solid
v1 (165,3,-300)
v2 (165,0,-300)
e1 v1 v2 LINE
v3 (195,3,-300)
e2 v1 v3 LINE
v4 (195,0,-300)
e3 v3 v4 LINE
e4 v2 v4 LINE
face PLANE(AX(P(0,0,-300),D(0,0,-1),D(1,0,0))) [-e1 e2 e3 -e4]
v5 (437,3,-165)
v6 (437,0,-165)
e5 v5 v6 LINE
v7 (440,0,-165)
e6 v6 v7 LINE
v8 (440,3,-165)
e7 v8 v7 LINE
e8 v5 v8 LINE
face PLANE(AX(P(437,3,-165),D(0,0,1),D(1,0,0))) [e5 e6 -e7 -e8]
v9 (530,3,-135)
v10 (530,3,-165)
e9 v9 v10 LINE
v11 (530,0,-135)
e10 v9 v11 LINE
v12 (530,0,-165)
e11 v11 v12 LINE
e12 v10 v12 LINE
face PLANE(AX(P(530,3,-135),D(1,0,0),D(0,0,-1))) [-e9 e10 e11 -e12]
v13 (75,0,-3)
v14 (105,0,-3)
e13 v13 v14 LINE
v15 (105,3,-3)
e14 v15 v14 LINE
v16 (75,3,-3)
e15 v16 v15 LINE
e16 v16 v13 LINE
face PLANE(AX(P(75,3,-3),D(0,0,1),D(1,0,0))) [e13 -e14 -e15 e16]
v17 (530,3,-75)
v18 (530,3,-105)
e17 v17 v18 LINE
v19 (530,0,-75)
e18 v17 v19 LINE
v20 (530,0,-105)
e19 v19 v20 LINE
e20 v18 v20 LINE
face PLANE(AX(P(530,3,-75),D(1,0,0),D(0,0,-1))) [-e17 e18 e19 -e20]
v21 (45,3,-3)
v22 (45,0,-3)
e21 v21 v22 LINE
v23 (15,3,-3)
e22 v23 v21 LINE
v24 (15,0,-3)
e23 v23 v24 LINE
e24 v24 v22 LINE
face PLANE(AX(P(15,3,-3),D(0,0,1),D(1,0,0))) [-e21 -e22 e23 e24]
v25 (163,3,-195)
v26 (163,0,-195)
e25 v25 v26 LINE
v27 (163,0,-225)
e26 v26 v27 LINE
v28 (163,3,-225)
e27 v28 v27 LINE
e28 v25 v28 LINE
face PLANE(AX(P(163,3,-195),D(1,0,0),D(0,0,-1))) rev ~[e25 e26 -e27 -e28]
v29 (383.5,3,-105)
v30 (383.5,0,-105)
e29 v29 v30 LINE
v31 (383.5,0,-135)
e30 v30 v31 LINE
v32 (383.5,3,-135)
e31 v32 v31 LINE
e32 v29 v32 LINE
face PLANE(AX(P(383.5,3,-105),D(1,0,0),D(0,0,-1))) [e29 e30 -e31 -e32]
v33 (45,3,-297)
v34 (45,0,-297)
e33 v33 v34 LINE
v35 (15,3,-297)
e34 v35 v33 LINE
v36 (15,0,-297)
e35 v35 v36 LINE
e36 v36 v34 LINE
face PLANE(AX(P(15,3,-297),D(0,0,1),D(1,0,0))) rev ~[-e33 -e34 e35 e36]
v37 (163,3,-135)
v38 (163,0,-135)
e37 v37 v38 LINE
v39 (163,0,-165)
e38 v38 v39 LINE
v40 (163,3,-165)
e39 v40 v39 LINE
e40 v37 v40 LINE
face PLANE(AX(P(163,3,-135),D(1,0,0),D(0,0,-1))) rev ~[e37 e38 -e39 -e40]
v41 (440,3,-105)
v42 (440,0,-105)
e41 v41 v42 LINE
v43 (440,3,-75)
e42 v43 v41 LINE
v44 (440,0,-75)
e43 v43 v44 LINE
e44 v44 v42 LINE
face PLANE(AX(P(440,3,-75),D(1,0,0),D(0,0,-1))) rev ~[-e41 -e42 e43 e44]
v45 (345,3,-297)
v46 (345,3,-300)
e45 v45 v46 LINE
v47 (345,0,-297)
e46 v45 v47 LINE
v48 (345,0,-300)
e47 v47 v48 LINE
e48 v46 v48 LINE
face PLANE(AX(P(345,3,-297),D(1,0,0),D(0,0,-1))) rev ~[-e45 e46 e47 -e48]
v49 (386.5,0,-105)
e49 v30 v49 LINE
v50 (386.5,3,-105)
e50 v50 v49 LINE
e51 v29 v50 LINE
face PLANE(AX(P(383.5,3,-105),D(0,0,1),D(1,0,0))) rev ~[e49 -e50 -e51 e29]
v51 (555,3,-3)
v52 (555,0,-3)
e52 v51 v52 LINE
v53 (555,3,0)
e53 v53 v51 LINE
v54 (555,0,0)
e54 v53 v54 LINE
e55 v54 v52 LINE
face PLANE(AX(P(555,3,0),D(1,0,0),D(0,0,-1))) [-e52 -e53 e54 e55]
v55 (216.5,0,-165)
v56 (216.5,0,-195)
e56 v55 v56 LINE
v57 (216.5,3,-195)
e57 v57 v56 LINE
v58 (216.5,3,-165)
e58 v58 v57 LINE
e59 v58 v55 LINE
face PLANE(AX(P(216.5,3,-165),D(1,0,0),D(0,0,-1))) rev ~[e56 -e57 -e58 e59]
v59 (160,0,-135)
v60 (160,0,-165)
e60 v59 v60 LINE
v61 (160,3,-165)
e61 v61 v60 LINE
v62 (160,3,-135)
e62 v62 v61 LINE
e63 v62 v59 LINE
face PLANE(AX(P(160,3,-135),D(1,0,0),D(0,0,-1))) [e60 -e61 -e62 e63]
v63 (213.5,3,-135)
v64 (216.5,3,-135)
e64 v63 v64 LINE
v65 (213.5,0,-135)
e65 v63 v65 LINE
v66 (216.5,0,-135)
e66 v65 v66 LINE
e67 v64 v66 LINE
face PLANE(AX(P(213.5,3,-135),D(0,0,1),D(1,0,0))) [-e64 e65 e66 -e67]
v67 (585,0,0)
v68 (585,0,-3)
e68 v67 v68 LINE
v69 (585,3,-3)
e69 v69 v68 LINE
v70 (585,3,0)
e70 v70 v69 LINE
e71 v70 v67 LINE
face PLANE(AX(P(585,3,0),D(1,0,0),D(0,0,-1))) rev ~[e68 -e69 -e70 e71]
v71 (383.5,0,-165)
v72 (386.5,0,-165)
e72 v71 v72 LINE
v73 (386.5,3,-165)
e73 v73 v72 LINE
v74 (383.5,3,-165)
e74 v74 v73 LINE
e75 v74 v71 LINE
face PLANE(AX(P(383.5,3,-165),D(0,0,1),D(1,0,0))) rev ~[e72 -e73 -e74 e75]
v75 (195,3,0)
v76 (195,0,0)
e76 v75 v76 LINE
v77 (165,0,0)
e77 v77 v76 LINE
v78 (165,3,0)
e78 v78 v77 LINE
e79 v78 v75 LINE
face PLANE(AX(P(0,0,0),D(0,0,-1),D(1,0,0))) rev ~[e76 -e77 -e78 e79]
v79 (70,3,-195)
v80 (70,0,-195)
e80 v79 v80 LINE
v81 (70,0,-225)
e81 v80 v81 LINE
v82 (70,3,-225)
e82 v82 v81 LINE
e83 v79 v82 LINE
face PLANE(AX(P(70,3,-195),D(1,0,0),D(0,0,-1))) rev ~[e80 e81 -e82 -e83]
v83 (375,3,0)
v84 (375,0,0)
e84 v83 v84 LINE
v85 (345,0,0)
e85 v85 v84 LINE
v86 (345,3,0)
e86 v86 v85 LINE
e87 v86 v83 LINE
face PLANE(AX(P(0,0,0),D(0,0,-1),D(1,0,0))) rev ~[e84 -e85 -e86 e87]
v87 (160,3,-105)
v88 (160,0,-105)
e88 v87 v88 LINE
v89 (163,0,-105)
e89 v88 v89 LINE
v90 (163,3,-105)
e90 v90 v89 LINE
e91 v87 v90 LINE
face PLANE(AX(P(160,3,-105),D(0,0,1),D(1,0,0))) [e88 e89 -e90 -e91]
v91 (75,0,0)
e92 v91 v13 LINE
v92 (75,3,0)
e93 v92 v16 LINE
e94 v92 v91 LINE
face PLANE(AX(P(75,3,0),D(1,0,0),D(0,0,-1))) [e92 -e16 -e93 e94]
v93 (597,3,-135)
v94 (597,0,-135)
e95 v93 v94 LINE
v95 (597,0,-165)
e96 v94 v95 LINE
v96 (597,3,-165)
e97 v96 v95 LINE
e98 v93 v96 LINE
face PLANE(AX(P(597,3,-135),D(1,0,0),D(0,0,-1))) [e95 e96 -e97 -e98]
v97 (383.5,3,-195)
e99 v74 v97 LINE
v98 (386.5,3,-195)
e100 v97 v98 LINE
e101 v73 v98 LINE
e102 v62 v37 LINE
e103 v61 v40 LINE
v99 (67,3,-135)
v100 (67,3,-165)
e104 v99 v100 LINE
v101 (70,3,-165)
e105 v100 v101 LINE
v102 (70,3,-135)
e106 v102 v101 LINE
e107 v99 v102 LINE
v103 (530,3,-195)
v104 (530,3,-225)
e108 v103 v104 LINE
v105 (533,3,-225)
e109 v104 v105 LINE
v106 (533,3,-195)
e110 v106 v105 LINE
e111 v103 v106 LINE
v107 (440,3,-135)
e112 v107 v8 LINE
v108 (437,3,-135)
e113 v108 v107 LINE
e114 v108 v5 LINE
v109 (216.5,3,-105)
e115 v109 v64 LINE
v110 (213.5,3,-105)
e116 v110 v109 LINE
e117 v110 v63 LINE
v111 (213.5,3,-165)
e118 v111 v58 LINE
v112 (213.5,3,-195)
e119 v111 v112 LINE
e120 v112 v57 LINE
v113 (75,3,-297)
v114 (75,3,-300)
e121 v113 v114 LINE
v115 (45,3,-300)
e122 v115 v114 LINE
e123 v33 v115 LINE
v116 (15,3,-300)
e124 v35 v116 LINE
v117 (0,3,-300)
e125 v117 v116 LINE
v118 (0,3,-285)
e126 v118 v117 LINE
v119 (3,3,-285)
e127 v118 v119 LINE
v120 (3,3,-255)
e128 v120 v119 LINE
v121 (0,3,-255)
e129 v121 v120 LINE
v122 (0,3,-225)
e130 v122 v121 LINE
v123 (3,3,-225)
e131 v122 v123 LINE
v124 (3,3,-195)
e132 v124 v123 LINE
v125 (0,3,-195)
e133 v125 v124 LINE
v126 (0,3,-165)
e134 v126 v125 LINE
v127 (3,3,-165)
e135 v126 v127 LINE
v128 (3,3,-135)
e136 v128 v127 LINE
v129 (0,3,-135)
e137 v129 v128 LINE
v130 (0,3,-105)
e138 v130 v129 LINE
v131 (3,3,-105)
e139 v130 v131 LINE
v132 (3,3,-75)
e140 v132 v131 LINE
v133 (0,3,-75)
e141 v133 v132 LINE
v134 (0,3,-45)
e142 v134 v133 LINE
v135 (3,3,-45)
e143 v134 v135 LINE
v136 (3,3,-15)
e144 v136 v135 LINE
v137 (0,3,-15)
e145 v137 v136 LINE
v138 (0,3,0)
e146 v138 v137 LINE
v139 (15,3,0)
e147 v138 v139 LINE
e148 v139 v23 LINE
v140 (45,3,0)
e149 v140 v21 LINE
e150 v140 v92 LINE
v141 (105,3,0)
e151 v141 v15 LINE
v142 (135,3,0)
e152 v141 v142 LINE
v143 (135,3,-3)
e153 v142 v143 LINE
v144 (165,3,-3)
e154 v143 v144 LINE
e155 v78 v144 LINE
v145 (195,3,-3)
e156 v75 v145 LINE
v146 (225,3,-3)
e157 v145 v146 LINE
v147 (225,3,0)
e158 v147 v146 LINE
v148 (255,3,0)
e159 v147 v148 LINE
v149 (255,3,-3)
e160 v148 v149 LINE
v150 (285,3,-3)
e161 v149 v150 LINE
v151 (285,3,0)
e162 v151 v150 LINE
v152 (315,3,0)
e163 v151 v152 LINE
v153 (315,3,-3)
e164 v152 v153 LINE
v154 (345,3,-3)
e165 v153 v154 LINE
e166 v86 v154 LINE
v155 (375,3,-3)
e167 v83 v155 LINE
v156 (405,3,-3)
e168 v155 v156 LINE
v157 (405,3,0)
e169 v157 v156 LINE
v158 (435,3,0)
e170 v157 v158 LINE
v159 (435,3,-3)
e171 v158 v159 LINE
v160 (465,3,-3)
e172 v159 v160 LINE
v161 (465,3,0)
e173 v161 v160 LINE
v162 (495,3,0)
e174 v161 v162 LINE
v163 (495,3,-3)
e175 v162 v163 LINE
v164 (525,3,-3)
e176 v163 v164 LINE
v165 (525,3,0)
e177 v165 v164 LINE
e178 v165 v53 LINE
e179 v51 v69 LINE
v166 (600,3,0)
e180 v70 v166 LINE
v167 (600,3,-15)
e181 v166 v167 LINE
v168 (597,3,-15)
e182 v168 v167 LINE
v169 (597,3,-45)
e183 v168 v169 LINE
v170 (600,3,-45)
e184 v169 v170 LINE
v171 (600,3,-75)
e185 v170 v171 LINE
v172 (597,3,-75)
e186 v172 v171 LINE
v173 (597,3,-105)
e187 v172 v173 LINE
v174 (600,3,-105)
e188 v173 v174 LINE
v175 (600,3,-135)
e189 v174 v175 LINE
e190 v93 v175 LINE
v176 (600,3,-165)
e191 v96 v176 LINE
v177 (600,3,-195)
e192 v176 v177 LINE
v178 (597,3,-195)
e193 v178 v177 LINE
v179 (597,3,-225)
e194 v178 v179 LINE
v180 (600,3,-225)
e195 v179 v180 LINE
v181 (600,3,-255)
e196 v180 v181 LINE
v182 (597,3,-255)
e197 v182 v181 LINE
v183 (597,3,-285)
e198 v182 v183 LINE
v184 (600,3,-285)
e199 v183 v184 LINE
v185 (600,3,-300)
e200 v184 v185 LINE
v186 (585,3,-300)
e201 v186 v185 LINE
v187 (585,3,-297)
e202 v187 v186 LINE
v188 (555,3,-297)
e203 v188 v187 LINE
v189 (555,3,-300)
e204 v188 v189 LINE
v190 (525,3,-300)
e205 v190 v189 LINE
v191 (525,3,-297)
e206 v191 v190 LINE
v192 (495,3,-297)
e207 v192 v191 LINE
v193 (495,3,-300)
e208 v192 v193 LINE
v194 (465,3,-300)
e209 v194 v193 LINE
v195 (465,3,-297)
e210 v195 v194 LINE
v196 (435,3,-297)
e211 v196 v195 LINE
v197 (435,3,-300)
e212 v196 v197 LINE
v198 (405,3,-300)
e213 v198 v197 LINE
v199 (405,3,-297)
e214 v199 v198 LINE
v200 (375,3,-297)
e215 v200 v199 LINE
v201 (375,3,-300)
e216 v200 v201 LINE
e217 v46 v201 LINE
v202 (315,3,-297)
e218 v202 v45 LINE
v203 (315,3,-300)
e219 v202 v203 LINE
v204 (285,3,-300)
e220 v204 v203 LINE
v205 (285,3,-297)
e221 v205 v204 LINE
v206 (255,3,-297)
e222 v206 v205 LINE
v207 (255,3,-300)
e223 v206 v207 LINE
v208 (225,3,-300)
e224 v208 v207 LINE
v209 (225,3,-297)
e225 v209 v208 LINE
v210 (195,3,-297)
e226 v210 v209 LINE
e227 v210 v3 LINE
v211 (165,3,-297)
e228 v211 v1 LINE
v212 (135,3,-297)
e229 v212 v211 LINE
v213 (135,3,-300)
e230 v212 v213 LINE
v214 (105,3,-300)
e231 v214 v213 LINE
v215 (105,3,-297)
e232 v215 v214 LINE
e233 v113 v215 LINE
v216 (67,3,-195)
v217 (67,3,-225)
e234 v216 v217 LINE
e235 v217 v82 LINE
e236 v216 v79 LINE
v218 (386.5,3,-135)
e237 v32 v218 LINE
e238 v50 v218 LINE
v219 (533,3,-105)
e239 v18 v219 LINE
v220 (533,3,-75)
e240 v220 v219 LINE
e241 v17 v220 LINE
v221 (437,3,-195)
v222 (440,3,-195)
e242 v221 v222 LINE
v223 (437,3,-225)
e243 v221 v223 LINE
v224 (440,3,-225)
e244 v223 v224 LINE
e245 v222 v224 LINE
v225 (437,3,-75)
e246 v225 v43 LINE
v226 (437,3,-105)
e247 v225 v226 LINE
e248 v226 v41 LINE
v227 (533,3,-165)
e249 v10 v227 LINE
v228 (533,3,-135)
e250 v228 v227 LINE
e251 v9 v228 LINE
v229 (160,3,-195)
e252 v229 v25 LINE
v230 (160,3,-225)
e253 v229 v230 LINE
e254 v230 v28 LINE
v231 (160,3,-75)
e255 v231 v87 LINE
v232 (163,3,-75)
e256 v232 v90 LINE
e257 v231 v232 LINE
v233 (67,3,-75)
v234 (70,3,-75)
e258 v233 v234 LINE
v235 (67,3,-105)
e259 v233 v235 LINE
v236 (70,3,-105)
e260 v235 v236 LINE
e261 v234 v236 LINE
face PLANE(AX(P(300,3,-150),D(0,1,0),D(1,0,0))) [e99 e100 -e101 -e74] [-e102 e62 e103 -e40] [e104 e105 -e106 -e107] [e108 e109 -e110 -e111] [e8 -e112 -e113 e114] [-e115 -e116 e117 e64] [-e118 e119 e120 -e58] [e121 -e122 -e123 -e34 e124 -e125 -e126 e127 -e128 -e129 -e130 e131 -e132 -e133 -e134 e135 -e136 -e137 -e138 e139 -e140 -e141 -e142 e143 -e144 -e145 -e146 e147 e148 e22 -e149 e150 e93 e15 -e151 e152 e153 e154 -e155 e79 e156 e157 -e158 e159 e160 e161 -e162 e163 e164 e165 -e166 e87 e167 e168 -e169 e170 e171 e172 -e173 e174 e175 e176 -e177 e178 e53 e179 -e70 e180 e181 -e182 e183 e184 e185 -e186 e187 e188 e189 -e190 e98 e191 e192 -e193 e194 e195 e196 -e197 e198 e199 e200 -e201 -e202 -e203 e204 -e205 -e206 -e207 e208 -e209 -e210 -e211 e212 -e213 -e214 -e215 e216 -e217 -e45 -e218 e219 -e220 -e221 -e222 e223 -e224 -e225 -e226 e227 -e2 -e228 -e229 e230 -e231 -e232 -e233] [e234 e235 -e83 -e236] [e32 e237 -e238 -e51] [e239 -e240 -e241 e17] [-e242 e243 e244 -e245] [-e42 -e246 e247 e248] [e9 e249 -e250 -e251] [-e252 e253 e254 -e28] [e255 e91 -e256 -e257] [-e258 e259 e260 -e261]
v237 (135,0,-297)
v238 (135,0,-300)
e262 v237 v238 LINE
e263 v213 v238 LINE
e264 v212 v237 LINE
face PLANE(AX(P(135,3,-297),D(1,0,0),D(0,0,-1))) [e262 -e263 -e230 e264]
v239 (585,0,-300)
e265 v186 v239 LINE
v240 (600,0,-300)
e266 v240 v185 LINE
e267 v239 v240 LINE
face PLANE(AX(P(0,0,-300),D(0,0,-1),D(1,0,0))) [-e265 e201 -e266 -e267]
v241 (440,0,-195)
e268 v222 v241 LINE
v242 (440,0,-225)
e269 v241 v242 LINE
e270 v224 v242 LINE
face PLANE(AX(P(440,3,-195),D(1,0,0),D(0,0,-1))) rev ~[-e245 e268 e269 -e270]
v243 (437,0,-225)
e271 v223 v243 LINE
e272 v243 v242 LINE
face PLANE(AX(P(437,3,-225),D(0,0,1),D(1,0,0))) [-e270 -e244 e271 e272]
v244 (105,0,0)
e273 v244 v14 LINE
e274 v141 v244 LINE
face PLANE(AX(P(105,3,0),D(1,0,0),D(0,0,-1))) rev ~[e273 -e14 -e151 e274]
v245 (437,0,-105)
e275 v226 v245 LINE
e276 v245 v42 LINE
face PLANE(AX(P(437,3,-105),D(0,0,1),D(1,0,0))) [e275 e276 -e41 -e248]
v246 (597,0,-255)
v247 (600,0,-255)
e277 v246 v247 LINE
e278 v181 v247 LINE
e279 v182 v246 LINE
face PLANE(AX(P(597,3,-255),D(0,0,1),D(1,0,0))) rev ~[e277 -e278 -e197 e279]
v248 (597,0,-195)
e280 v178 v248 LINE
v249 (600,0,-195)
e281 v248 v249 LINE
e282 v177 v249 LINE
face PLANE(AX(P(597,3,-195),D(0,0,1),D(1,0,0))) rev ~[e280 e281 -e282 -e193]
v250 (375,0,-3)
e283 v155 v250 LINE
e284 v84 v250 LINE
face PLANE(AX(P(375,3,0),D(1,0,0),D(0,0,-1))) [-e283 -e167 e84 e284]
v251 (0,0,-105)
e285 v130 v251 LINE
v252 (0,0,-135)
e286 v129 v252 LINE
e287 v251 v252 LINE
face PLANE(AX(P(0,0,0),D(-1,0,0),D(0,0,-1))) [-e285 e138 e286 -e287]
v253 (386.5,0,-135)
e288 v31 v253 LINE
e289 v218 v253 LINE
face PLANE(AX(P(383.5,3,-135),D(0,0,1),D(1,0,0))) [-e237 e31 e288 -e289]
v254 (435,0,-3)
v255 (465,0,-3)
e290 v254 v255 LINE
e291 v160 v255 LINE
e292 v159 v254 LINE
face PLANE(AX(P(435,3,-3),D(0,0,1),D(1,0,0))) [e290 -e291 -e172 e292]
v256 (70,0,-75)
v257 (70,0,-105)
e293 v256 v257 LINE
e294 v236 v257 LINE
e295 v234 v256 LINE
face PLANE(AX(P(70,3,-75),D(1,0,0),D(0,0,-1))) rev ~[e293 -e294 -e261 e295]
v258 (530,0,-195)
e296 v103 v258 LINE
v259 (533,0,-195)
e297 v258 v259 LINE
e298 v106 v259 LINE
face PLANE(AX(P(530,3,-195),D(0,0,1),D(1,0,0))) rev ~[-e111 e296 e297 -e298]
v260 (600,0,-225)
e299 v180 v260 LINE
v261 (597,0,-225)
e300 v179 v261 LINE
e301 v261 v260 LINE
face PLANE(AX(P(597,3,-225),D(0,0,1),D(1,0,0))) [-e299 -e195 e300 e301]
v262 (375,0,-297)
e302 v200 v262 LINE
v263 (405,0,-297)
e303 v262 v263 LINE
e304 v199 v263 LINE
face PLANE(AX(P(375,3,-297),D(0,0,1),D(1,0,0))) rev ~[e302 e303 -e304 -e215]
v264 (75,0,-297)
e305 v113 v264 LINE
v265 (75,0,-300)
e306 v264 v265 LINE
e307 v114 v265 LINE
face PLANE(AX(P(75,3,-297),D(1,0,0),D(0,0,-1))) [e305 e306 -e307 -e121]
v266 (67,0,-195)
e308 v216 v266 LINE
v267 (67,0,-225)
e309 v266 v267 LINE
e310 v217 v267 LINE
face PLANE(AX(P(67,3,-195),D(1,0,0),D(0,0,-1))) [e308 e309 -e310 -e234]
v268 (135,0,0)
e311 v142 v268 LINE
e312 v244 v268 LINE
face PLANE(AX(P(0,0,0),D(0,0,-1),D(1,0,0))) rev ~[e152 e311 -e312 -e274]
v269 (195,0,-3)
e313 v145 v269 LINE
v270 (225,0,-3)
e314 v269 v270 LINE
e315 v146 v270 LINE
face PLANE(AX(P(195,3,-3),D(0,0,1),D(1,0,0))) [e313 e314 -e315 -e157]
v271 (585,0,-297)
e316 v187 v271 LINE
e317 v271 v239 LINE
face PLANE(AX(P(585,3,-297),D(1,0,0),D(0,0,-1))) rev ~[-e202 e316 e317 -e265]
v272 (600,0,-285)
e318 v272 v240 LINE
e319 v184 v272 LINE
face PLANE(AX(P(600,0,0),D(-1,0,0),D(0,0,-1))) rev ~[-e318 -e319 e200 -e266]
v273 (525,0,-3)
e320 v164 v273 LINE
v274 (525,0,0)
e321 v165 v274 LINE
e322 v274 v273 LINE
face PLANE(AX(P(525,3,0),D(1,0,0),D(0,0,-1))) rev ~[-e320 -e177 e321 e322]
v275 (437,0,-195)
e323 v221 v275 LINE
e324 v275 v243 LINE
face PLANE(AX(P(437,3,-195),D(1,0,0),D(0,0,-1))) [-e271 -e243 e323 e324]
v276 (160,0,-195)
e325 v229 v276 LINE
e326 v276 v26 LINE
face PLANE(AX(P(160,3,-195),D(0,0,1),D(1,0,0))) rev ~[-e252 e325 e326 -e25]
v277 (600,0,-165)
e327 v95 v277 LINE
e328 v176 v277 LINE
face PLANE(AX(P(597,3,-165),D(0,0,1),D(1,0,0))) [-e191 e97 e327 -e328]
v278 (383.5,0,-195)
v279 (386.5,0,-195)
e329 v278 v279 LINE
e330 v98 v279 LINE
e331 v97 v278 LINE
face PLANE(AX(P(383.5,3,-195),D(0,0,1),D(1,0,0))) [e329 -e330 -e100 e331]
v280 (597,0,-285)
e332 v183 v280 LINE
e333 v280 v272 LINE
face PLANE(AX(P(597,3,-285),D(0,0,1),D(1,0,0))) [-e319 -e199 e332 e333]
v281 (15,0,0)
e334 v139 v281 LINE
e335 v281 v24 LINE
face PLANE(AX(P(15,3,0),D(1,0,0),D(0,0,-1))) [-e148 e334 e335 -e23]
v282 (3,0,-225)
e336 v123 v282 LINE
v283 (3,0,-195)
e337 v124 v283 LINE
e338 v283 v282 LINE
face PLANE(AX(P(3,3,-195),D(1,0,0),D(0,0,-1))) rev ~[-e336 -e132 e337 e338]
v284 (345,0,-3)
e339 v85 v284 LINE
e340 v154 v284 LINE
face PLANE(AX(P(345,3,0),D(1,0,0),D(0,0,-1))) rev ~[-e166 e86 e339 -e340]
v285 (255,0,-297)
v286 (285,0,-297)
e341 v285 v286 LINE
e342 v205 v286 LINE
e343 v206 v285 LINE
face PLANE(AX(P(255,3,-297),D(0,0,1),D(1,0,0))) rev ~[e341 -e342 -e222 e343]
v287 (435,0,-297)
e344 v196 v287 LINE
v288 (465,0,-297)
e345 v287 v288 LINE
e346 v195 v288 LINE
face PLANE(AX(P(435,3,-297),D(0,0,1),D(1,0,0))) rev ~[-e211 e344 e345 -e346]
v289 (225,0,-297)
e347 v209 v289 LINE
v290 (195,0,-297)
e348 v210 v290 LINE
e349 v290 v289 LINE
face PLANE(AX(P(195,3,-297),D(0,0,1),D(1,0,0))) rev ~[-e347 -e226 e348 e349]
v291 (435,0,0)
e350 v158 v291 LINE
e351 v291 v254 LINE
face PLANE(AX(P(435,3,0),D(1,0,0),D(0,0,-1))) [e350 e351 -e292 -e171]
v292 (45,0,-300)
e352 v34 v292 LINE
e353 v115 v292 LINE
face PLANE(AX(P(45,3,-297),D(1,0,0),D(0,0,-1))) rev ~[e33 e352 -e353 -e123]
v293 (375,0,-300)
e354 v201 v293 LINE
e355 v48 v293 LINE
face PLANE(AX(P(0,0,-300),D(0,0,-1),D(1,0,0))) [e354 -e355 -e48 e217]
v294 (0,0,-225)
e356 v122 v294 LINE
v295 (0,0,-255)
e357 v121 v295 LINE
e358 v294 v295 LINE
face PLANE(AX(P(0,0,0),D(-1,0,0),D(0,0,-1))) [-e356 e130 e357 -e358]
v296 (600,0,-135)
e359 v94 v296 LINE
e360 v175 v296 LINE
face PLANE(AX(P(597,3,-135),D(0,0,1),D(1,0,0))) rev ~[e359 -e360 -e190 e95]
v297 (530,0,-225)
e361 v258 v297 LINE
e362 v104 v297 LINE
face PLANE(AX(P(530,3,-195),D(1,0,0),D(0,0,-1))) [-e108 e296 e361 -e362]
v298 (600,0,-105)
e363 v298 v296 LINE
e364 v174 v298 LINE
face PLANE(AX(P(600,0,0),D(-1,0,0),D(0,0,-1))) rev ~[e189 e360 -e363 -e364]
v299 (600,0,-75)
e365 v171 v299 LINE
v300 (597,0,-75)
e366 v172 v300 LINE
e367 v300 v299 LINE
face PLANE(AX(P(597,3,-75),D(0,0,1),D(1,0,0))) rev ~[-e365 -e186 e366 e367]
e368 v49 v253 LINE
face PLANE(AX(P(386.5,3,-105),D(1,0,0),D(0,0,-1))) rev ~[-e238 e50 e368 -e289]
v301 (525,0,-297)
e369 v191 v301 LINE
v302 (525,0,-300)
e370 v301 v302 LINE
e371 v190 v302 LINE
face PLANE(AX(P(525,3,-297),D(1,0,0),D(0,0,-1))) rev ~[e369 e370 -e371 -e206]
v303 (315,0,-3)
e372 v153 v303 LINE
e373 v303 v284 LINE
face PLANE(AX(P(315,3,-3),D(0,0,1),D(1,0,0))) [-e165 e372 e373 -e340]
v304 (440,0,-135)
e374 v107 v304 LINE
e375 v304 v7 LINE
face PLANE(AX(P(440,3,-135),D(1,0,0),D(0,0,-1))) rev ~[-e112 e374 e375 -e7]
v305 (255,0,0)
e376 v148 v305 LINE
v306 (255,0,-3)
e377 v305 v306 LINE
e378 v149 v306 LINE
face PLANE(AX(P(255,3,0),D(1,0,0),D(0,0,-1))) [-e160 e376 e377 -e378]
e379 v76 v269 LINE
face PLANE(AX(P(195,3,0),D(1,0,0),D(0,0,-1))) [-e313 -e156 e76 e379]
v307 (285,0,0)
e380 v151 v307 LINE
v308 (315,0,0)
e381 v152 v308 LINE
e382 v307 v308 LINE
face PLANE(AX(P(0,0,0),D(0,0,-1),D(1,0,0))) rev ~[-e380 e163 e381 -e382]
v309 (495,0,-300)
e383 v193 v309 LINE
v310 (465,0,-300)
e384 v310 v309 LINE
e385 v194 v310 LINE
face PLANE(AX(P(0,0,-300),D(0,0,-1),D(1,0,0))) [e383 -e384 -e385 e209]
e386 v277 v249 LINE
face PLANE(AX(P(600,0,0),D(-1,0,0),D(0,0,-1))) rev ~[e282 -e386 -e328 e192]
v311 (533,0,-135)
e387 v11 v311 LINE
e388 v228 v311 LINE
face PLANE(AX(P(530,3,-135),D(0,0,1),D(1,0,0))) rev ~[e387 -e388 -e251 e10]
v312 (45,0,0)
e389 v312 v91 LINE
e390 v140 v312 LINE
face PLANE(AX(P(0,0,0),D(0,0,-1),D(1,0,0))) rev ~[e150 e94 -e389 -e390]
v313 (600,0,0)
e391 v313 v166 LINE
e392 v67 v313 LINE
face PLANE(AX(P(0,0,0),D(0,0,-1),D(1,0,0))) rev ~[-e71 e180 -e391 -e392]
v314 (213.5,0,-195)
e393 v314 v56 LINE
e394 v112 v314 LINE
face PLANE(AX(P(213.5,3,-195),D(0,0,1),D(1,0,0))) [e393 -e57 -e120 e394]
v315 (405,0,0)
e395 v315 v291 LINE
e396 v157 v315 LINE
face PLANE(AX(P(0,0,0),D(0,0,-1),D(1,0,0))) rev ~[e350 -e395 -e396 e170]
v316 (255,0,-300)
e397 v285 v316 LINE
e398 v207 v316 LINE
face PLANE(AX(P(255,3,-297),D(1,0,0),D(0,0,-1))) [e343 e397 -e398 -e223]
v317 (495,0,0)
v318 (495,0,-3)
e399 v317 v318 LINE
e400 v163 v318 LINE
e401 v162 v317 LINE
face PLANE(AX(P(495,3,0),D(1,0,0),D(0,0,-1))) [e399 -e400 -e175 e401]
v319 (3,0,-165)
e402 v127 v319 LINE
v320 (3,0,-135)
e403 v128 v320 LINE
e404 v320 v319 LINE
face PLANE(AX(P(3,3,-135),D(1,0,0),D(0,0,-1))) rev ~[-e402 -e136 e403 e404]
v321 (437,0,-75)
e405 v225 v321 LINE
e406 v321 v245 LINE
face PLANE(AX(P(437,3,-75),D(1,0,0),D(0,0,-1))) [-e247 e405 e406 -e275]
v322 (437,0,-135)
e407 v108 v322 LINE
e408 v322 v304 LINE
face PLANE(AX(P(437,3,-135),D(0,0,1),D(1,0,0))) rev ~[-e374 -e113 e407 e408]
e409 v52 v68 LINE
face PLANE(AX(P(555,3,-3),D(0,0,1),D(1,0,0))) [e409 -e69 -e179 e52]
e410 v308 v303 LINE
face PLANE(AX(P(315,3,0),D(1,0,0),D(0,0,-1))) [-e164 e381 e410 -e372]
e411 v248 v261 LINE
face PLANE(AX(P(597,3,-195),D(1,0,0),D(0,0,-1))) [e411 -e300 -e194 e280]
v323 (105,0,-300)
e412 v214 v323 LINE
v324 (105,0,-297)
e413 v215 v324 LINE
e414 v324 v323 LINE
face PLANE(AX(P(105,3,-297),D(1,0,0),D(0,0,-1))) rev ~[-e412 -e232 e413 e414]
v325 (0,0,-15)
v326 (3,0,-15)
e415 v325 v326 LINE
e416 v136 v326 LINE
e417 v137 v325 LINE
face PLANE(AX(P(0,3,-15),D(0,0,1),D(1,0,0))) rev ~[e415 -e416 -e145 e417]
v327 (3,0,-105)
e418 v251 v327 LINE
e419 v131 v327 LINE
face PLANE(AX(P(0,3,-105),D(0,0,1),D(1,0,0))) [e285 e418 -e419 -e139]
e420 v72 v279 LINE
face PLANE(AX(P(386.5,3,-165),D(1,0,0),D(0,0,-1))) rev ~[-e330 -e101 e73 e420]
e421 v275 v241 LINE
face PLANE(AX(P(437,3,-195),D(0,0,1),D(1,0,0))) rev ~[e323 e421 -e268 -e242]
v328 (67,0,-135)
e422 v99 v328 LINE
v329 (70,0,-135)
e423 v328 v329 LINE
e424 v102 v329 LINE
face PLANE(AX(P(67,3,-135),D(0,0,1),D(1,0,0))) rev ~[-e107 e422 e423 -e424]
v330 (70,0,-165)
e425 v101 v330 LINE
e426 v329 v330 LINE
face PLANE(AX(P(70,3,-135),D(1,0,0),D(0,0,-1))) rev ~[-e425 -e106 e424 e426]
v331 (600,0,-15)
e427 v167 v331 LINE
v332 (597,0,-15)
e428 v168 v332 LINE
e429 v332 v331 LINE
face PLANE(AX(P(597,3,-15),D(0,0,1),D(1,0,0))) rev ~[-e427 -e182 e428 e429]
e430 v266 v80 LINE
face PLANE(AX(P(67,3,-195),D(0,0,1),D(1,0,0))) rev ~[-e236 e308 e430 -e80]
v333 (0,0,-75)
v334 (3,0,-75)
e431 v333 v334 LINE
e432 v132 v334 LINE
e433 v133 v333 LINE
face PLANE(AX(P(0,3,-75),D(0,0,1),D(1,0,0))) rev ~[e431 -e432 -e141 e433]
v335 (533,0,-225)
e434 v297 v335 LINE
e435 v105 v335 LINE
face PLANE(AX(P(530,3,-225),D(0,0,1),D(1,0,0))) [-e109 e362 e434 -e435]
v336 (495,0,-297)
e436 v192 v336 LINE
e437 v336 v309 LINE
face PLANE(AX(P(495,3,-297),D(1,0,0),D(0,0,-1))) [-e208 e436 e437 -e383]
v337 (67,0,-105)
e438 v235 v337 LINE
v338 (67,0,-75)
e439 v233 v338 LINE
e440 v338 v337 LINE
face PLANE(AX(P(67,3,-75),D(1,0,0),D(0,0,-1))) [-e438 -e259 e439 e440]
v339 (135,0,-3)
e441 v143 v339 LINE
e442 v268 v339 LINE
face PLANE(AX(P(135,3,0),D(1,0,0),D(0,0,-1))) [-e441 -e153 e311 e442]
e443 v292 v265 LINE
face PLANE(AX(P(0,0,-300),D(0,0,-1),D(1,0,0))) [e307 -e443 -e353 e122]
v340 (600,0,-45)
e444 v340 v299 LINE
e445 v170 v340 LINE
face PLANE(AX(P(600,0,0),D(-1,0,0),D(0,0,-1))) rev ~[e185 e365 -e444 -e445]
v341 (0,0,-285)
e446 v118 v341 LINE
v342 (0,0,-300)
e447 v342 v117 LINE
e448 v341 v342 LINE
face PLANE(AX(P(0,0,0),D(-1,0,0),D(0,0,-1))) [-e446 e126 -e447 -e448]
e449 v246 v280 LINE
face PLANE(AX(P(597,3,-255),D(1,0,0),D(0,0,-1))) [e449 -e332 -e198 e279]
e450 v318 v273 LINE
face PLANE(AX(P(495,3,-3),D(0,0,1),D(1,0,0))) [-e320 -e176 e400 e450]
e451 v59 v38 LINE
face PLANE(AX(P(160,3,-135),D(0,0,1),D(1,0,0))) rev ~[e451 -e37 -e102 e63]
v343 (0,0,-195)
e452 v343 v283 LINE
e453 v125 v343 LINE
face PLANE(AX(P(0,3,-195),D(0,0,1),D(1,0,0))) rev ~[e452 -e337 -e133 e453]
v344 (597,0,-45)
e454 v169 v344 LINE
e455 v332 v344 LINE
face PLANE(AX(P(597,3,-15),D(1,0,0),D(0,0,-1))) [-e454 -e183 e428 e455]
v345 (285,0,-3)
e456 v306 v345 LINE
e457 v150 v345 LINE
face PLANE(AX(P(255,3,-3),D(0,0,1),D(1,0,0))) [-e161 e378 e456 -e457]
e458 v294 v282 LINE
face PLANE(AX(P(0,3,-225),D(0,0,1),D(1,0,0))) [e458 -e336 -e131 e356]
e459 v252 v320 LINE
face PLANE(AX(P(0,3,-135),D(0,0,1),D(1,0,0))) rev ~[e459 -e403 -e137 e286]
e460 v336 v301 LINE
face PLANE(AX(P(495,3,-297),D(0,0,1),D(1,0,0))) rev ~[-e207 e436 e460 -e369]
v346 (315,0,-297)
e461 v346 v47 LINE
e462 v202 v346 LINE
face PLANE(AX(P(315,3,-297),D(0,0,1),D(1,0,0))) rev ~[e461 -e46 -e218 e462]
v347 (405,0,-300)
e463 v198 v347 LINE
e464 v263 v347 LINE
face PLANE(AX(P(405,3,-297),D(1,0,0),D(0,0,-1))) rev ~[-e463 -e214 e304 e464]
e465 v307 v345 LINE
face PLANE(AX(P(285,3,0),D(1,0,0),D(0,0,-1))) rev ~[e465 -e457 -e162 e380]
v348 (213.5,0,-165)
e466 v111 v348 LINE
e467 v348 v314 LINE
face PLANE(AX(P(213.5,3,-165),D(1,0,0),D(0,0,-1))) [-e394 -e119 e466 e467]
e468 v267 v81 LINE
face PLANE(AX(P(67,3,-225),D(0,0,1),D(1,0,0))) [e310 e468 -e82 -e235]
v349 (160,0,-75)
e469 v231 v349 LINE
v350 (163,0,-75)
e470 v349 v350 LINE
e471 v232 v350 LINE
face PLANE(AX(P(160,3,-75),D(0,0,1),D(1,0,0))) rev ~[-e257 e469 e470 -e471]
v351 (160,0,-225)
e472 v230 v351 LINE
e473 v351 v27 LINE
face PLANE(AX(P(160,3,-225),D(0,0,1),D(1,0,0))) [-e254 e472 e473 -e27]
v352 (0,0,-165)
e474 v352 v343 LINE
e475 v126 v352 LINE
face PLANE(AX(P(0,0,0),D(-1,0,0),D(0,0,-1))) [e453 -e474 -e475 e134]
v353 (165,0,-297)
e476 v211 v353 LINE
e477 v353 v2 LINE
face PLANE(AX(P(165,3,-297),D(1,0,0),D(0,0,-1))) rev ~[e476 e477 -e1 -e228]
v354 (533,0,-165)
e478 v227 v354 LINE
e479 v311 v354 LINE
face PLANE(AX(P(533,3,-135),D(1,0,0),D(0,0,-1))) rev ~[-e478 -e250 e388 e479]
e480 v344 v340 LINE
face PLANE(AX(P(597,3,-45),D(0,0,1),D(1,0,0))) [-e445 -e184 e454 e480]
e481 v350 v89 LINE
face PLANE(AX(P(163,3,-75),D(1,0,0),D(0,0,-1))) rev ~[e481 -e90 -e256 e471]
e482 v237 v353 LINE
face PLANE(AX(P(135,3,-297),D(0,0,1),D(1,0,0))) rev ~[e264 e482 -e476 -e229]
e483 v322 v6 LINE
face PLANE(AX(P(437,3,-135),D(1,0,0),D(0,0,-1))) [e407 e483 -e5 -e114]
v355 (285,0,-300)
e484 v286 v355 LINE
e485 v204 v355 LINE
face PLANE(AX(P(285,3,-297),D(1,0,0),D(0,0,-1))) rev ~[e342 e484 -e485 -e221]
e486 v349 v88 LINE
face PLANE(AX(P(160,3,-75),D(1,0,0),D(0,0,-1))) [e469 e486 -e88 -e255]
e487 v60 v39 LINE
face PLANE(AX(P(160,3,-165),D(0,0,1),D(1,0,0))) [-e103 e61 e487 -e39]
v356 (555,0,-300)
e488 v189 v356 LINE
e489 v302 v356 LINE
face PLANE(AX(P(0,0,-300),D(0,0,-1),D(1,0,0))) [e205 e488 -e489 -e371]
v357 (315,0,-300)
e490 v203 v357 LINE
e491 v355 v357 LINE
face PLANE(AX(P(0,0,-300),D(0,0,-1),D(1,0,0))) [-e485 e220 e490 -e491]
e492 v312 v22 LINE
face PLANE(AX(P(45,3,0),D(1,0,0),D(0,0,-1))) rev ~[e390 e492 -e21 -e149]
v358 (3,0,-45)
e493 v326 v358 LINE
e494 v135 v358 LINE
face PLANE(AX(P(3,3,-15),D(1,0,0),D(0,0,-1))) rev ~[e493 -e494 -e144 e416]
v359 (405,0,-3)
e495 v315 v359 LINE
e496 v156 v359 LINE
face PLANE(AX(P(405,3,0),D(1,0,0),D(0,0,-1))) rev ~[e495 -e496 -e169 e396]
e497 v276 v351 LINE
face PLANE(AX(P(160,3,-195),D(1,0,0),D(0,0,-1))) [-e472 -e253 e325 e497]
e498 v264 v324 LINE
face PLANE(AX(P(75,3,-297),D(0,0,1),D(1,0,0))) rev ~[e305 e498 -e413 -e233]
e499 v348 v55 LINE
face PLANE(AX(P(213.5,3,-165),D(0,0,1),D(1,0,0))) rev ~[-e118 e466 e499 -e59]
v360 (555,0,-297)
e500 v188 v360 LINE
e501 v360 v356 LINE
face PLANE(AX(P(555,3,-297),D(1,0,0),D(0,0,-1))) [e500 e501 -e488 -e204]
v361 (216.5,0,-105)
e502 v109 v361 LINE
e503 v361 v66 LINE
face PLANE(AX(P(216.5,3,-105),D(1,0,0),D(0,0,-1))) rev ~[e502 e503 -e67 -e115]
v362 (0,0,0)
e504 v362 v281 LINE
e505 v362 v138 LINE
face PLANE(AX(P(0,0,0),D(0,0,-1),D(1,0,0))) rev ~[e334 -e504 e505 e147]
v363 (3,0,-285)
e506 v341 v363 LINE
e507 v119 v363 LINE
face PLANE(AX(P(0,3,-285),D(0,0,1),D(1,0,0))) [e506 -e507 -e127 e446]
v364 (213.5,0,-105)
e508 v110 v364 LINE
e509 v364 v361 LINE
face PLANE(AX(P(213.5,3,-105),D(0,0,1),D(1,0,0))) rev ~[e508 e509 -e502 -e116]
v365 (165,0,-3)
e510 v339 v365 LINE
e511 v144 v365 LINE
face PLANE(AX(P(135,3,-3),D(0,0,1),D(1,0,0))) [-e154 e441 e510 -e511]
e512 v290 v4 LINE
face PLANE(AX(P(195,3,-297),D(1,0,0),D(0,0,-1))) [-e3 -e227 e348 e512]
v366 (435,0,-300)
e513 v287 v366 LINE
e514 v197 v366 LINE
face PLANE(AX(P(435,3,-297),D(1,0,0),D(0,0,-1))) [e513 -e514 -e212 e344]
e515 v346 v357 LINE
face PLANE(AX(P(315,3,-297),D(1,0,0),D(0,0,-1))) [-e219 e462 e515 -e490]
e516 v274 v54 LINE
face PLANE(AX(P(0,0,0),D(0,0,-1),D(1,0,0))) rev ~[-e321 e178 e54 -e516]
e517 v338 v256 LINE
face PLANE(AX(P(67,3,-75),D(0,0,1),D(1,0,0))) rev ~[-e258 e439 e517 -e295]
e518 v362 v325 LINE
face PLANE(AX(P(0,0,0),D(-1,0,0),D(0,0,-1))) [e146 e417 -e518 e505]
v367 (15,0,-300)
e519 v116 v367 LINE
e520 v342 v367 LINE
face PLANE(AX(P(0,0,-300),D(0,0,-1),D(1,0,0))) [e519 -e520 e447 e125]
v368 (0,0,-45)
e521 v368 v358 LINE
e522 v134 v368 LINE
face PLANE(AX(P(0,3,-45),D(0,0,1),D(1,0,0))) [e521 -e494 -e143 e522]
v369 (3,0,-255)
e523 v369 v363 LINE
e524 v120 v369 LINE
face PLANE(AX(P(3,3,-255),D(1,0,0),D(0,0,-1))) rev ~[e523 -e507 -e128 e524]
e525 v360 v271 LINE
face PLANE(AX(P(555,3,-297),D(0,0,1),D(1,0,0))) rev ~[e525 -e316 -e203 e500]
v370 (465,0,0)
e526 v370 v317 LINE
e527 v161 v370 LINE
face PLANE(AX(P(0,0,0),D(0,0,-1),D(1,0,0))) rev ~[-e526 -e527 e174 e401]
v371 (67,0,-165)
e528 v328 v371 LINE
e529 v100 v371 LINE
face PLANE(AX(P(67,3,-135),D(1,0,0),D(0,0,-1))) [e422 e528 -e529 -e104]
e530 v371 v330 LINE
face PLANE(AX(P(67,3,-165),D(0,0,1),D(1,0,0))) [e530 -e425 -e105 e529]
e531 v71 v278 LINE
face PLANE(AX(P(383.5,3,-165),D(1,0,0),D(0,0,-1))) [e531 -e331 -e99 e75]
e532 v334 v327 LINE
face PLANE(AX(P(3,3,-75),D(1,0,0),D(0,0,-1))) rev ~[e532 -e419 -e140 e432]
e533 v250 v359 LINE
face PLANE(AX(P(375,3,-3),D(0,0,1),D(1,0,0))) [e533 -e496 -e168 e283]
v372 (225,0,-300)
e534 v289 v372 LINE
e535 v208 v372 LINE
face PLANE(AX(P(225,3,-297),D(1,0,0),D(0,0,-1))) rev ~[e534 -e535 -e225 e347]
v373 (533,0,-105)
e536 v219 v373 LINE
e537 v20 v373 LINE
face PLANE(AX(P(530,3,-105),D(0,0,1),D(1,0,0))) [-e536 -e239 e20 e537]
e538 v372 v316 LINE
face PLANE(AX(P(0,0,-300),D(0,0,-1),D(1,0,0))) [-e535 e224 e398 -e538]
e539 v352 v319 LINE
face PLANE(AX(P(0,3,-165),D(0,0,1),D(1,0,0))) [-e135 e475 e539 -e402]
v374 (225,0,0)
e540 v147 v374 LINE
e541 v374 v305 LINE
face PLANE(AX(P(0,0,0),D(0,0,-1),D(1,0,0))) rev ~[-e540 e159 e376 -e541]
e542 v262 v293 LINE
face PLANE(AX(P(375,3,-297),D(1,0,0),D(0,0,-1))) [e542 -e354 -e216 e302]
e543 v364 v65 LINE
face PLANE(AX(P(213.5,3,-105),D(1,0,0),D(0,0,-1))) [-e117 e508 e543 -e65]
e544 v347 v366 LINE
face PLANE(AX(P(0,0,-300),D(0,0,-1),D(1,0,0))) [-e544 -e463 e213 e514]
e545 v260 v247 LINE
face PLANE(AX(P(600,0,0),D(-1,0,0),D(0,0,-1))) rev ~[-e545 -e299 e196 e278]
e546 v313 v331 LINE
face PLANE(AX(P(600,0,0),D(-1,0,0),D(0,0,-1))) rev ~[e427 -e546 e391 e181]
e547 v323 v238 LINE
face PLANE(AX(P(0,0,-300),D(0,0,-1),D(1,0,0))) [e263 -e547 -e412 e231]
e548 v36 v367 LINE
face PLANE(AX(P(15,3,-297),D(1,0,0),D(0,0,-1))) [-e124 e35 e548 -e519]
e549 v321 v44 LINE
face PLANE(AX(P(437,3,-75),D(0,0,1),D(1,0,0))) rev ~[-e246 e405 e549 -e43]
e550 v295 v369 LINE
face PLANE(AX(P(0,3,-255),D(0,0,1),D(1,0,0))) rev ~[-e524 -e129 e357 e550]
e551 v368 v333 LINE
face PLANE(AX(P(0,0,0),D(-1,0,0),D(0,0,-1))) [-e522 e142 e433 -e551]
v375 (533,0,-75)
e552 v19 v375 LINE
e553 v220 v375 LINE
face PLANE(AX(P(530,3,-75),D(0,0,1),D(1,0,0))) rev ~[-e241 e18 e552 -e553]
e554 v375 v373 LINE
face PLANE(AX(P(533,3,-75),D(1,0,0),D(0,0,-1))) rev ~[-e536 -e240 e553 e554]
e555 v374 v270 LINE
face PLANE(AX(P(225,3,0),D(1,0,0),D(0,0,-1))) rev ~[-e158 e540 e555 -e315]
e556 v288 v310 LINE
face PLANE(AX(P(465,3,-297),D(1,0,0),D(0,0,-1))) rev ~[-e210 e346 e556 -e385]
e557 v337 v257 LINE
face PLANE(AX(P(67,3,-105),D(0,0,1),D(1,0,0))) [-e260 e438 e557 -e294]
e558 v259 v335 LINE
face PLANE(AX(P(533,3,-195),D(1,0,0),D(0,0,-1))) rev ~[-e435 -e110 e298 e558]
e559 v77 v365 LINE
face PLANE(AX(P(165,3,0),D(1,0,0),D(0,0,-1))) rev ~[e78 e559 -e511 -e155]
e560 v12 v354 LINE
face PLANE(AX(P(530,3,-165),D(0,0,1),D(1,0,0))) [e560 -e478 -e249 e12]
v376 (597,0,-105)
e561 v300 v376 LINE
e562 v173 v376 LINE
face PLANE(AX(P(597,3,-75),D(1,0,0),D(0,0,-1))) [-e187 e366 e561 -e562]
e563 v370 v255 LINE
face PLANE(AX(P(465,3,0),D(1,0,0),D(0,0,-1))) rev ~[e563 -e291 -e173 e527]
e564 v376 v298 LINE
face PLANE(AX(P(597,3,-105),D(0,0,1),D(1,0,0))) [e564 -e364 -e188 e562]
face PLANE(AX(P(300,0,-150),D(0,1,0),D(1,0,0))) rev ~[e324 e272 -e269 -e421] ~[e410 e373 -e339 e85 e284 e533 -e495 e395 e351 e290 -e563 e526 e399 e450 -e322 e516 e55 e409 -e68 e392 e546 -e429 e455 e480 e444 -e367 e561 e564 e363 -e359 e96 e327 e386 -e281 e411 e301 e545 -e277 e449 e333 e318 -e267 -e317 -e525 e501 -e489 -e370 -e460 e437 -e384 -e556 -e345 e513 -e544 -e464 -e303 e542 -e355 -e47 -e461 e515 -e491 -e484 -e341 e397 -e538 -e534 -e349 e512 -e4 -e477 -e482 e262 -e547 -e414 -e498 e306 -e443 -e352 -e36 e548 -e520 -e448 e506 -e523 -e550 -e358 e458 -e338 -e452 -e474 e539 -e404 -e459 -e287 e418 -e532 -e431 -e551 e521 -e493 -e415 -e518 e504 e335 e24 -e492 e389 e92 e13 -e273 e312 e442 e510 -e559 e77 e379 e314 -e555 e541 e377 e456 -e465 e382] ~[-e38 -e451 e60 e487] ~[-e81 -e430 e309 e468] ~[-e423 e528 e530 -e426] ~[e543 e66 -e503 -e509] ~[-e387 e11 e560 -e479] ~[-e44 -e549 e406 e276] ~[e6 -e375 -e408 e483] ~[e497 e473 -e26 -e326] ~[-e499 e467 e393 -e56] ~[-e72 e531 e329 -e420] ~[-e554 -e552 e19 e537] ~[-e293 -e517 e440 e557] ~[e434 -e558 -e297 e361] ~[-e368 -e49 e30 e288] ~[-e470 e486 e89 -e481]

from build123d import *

# Parameters (mm, degrees)
SKETCH1_W           = 600
SKETCH1_H           = 300
BOSS_EXTRUDE1_DEPTH = 3
SKETCH2_W           = 30
SKETCH2_H           = 3
SKETCH2_W_2         = 3
SKETCH2_H_2         = 30
CUT_EXTRUDE1_DEPTH  = 5
SKETCH3_W           = 3
SKETCH3_H           = 30
CUT_EXTRUDE2_DEPTH  = 10
SKETCH4_W           = 3
SKETCH4_H           = 30
CUT_EXTRUDE3_DEPTH  = 5


with BuildPart() as part:
    # Sketch1 → Boss-Extrude1 (new body)
    with BuildSketch(Plane(origin=(0, 0, 0), x_dir=(1, 0, 0), z_dir=(0, 1, 0))):
        with Locations((300, 150)):
            Rectangle(SKETCH1_W, SKETCH1_H)
    extrude(amount=BOSS_EXTRUDE1_DEPTH)

    # Sketch2 → Cut-Extrude1 (cut)
    with BuildSketch(Plane(origin=(0, 3, 0), x_dir=(1, 0, 0), z_dir=(0, 1, 0))):
        with Locations((90, 1.5)):
            Rectangle(SKETCH2_W, SKETCH2_H)
        with Locations((30, 1.5)):
            Rectangle(SKETCH2_W, SKETCH2_H)
        with Locations((150, 1.5)):
            Rectangle(SKETCH2_W, SKETCH2_H)
        with Locations((210, 1.5)):
            Rectangle(SKETCH2_W, SKETCH2_H)
        with Locations((270, 1.5)):
            Rectangle(SKETCH2_W, SKETCH2_H)
        with Locations((330, 1.5)):
            Rectangle(SKETCH2_W, SKETCH2_H)
        with Locations((390, 1.5)):
            Rectangle(SKETCH2_W, SKETCH2_H)
        with Locations((450, 1.5)):
            Rectangle(SKETCH2_W, SKETCH2_H)
        with Locations((510, 1.5)):
            Rectangle(SKETCH2_W, SKETCH2_H)
        with Locations((570, 1.5)):
            Rectangle(SKETCH2_W, SKETCH2_H)
        with Locations((570, 298.5)):
            Rectangle(SKETCH2_W, SKETCH2_H)
        with Locations((510, 298.5)):
            Rectangle(SKETCH2_W, SKETCH2_H)
        with Locations((450, 298.5)):
            Rectangle(SKETCH2_W, SKETCH2_H)
        with Locations((390, 298.5)):
            Rectangle(SKETCH2_W, SKETCH2_H)
        with Locations((330, 298.5)):
            Rectangle(SKETCH2_W, SKETCH2_H)
        with Locations((270, 298.5)):
            Rectangle(SKETCH2_W, SKETCH2_H)
        with Locations((210, 298.5)):
            Rectangle(SKETCH2_W, SKETCH2_H)
        with Locations((150, 298.5)):
            Rectangle(SKETCH2_W, SKETCH2_H)
        with Locations((90, 298.5)):
            Rectangle(SKETCH2_W, SKETCH2_H)
        with Locations((30, 298.5)):
            Rectangle(SKETCH2_W, SKETCH2_H)
        with Locations((1.5, 210)):
            Rectangle(SKETCH2_W_2, SKETCH2_H_2)
        with Locations((1.5, 270)):
            Rectangle(SKETCH2_W_2, SKETCH2_H_2)
        with Locations((1.5, 150)):
            Rectangle(SKETCH2_W_2, SKETCH2_H_2)
        with Locations((1.5, 90)):
            Rectangle(SKETCH2_W_2, SKETCH2_H_2)
        with Locations((1.5, 30)):
            Rectangle(SKETCH2_W_2, SKETCH2_H_2)
        with Locations((598.5, 30)):
            Rectangle(SKETCH2_W_2, SKETCH2_H_2)
        with Locations((598.5, 90)):
            Rectangle(SKETCH2_W_2, SKETCH2_H_2)
        with Locations((598.5, 150)):
            Rectangle(SKETCH2_W_2, SKETCH2_H_2)
        with Locations((598.5, 210)):
            Rectangle(SKETCH2_W_2, SKETCH2_H_2)
        with Locations((598.5, 270)):
            Rectangle(SKETCH2_W_2, SKETCH2_H_2)
    extrude(amount=-CUT_EXTRUDE1_DEPTH, mode=Mode.SUBTRACT)

    # Sketch3 → Cut-Extrude2 (cut)
    with BuildSketch(Plane(origin=(0, 3, 0), x_dir=(1, 0, 0), z_dir=(0, 1, 0))):
        with Locations((68.5, 210)):
            Rectangle(SKETCH3_W, SKETCH3_H)
        with Locations((68.5, 150)):
            Rectangle(SKETCH3_W, SKETCH3_H)
        with Locations((68.5, 90)):
            Rectangle(SKETCH3_W, SKETCH3_H)
        with Locations((161.5, 90)):
            Rectangle(SKETCH3_W, SKETCH3_H)
        with Locations((161.5, 150)):
            Rectangle(SKETCH3_W, SKETCH3_H)
        with Locations((161.5, 210)):
            Rectangle(SKETCH3_W, SKETCH3_H)
        with Locations((438.5, 210)):
            Rectangle(SKETCH3_W, SKETCH3_H)
        with Locations((438.5, 150)):
            Rectangle(SKETCH3_W, SKETCH3_H)
        with Locations((438.5, 90)):
            Rectangle(SKETCH3_W, SKETCH3_H)
        with Locations((531.5, 90)):
            Rectangle(SKETCH3_W, SKETCH3_H)
        with Locations((531.5, 150)):
            Rectangle(SKETCH3_W, SKETCH3_H)
        with Locations((531.5, 210)):
            Rectangle(SKETCH3_W, SKETCH3_H)
    extrude(amount=-CUT_EXTRUDE2_DEPTH, mode=Mode.SUBTRACT)

    # Sketch4 → Cut-Extrude3 (cut)
    with BuildSketch(Plane(origin=(0, 3, 0), x_dir=(1, 0, 0), z_dir=(0, 1, 0))):
        with Locations((215, 180)):
            Rectangle(SKETCH4_W, SKETCH4_H)
        with Locations((215, 120)):
            Rectangle(SKETCH4_W, SKETCH4_H)
        with Locations((385, 120)):
            Rectangle(SKETCH4_W, SKETCH4_H)
        with Locations((385, 180)):
            Rectangle(SKETCH4_W, SKETCH4_H)
    extrude(amount=-CUT_EXTRUDE3_DEPTH, mode=Mode.SUBTRACT)


solid = part.part
